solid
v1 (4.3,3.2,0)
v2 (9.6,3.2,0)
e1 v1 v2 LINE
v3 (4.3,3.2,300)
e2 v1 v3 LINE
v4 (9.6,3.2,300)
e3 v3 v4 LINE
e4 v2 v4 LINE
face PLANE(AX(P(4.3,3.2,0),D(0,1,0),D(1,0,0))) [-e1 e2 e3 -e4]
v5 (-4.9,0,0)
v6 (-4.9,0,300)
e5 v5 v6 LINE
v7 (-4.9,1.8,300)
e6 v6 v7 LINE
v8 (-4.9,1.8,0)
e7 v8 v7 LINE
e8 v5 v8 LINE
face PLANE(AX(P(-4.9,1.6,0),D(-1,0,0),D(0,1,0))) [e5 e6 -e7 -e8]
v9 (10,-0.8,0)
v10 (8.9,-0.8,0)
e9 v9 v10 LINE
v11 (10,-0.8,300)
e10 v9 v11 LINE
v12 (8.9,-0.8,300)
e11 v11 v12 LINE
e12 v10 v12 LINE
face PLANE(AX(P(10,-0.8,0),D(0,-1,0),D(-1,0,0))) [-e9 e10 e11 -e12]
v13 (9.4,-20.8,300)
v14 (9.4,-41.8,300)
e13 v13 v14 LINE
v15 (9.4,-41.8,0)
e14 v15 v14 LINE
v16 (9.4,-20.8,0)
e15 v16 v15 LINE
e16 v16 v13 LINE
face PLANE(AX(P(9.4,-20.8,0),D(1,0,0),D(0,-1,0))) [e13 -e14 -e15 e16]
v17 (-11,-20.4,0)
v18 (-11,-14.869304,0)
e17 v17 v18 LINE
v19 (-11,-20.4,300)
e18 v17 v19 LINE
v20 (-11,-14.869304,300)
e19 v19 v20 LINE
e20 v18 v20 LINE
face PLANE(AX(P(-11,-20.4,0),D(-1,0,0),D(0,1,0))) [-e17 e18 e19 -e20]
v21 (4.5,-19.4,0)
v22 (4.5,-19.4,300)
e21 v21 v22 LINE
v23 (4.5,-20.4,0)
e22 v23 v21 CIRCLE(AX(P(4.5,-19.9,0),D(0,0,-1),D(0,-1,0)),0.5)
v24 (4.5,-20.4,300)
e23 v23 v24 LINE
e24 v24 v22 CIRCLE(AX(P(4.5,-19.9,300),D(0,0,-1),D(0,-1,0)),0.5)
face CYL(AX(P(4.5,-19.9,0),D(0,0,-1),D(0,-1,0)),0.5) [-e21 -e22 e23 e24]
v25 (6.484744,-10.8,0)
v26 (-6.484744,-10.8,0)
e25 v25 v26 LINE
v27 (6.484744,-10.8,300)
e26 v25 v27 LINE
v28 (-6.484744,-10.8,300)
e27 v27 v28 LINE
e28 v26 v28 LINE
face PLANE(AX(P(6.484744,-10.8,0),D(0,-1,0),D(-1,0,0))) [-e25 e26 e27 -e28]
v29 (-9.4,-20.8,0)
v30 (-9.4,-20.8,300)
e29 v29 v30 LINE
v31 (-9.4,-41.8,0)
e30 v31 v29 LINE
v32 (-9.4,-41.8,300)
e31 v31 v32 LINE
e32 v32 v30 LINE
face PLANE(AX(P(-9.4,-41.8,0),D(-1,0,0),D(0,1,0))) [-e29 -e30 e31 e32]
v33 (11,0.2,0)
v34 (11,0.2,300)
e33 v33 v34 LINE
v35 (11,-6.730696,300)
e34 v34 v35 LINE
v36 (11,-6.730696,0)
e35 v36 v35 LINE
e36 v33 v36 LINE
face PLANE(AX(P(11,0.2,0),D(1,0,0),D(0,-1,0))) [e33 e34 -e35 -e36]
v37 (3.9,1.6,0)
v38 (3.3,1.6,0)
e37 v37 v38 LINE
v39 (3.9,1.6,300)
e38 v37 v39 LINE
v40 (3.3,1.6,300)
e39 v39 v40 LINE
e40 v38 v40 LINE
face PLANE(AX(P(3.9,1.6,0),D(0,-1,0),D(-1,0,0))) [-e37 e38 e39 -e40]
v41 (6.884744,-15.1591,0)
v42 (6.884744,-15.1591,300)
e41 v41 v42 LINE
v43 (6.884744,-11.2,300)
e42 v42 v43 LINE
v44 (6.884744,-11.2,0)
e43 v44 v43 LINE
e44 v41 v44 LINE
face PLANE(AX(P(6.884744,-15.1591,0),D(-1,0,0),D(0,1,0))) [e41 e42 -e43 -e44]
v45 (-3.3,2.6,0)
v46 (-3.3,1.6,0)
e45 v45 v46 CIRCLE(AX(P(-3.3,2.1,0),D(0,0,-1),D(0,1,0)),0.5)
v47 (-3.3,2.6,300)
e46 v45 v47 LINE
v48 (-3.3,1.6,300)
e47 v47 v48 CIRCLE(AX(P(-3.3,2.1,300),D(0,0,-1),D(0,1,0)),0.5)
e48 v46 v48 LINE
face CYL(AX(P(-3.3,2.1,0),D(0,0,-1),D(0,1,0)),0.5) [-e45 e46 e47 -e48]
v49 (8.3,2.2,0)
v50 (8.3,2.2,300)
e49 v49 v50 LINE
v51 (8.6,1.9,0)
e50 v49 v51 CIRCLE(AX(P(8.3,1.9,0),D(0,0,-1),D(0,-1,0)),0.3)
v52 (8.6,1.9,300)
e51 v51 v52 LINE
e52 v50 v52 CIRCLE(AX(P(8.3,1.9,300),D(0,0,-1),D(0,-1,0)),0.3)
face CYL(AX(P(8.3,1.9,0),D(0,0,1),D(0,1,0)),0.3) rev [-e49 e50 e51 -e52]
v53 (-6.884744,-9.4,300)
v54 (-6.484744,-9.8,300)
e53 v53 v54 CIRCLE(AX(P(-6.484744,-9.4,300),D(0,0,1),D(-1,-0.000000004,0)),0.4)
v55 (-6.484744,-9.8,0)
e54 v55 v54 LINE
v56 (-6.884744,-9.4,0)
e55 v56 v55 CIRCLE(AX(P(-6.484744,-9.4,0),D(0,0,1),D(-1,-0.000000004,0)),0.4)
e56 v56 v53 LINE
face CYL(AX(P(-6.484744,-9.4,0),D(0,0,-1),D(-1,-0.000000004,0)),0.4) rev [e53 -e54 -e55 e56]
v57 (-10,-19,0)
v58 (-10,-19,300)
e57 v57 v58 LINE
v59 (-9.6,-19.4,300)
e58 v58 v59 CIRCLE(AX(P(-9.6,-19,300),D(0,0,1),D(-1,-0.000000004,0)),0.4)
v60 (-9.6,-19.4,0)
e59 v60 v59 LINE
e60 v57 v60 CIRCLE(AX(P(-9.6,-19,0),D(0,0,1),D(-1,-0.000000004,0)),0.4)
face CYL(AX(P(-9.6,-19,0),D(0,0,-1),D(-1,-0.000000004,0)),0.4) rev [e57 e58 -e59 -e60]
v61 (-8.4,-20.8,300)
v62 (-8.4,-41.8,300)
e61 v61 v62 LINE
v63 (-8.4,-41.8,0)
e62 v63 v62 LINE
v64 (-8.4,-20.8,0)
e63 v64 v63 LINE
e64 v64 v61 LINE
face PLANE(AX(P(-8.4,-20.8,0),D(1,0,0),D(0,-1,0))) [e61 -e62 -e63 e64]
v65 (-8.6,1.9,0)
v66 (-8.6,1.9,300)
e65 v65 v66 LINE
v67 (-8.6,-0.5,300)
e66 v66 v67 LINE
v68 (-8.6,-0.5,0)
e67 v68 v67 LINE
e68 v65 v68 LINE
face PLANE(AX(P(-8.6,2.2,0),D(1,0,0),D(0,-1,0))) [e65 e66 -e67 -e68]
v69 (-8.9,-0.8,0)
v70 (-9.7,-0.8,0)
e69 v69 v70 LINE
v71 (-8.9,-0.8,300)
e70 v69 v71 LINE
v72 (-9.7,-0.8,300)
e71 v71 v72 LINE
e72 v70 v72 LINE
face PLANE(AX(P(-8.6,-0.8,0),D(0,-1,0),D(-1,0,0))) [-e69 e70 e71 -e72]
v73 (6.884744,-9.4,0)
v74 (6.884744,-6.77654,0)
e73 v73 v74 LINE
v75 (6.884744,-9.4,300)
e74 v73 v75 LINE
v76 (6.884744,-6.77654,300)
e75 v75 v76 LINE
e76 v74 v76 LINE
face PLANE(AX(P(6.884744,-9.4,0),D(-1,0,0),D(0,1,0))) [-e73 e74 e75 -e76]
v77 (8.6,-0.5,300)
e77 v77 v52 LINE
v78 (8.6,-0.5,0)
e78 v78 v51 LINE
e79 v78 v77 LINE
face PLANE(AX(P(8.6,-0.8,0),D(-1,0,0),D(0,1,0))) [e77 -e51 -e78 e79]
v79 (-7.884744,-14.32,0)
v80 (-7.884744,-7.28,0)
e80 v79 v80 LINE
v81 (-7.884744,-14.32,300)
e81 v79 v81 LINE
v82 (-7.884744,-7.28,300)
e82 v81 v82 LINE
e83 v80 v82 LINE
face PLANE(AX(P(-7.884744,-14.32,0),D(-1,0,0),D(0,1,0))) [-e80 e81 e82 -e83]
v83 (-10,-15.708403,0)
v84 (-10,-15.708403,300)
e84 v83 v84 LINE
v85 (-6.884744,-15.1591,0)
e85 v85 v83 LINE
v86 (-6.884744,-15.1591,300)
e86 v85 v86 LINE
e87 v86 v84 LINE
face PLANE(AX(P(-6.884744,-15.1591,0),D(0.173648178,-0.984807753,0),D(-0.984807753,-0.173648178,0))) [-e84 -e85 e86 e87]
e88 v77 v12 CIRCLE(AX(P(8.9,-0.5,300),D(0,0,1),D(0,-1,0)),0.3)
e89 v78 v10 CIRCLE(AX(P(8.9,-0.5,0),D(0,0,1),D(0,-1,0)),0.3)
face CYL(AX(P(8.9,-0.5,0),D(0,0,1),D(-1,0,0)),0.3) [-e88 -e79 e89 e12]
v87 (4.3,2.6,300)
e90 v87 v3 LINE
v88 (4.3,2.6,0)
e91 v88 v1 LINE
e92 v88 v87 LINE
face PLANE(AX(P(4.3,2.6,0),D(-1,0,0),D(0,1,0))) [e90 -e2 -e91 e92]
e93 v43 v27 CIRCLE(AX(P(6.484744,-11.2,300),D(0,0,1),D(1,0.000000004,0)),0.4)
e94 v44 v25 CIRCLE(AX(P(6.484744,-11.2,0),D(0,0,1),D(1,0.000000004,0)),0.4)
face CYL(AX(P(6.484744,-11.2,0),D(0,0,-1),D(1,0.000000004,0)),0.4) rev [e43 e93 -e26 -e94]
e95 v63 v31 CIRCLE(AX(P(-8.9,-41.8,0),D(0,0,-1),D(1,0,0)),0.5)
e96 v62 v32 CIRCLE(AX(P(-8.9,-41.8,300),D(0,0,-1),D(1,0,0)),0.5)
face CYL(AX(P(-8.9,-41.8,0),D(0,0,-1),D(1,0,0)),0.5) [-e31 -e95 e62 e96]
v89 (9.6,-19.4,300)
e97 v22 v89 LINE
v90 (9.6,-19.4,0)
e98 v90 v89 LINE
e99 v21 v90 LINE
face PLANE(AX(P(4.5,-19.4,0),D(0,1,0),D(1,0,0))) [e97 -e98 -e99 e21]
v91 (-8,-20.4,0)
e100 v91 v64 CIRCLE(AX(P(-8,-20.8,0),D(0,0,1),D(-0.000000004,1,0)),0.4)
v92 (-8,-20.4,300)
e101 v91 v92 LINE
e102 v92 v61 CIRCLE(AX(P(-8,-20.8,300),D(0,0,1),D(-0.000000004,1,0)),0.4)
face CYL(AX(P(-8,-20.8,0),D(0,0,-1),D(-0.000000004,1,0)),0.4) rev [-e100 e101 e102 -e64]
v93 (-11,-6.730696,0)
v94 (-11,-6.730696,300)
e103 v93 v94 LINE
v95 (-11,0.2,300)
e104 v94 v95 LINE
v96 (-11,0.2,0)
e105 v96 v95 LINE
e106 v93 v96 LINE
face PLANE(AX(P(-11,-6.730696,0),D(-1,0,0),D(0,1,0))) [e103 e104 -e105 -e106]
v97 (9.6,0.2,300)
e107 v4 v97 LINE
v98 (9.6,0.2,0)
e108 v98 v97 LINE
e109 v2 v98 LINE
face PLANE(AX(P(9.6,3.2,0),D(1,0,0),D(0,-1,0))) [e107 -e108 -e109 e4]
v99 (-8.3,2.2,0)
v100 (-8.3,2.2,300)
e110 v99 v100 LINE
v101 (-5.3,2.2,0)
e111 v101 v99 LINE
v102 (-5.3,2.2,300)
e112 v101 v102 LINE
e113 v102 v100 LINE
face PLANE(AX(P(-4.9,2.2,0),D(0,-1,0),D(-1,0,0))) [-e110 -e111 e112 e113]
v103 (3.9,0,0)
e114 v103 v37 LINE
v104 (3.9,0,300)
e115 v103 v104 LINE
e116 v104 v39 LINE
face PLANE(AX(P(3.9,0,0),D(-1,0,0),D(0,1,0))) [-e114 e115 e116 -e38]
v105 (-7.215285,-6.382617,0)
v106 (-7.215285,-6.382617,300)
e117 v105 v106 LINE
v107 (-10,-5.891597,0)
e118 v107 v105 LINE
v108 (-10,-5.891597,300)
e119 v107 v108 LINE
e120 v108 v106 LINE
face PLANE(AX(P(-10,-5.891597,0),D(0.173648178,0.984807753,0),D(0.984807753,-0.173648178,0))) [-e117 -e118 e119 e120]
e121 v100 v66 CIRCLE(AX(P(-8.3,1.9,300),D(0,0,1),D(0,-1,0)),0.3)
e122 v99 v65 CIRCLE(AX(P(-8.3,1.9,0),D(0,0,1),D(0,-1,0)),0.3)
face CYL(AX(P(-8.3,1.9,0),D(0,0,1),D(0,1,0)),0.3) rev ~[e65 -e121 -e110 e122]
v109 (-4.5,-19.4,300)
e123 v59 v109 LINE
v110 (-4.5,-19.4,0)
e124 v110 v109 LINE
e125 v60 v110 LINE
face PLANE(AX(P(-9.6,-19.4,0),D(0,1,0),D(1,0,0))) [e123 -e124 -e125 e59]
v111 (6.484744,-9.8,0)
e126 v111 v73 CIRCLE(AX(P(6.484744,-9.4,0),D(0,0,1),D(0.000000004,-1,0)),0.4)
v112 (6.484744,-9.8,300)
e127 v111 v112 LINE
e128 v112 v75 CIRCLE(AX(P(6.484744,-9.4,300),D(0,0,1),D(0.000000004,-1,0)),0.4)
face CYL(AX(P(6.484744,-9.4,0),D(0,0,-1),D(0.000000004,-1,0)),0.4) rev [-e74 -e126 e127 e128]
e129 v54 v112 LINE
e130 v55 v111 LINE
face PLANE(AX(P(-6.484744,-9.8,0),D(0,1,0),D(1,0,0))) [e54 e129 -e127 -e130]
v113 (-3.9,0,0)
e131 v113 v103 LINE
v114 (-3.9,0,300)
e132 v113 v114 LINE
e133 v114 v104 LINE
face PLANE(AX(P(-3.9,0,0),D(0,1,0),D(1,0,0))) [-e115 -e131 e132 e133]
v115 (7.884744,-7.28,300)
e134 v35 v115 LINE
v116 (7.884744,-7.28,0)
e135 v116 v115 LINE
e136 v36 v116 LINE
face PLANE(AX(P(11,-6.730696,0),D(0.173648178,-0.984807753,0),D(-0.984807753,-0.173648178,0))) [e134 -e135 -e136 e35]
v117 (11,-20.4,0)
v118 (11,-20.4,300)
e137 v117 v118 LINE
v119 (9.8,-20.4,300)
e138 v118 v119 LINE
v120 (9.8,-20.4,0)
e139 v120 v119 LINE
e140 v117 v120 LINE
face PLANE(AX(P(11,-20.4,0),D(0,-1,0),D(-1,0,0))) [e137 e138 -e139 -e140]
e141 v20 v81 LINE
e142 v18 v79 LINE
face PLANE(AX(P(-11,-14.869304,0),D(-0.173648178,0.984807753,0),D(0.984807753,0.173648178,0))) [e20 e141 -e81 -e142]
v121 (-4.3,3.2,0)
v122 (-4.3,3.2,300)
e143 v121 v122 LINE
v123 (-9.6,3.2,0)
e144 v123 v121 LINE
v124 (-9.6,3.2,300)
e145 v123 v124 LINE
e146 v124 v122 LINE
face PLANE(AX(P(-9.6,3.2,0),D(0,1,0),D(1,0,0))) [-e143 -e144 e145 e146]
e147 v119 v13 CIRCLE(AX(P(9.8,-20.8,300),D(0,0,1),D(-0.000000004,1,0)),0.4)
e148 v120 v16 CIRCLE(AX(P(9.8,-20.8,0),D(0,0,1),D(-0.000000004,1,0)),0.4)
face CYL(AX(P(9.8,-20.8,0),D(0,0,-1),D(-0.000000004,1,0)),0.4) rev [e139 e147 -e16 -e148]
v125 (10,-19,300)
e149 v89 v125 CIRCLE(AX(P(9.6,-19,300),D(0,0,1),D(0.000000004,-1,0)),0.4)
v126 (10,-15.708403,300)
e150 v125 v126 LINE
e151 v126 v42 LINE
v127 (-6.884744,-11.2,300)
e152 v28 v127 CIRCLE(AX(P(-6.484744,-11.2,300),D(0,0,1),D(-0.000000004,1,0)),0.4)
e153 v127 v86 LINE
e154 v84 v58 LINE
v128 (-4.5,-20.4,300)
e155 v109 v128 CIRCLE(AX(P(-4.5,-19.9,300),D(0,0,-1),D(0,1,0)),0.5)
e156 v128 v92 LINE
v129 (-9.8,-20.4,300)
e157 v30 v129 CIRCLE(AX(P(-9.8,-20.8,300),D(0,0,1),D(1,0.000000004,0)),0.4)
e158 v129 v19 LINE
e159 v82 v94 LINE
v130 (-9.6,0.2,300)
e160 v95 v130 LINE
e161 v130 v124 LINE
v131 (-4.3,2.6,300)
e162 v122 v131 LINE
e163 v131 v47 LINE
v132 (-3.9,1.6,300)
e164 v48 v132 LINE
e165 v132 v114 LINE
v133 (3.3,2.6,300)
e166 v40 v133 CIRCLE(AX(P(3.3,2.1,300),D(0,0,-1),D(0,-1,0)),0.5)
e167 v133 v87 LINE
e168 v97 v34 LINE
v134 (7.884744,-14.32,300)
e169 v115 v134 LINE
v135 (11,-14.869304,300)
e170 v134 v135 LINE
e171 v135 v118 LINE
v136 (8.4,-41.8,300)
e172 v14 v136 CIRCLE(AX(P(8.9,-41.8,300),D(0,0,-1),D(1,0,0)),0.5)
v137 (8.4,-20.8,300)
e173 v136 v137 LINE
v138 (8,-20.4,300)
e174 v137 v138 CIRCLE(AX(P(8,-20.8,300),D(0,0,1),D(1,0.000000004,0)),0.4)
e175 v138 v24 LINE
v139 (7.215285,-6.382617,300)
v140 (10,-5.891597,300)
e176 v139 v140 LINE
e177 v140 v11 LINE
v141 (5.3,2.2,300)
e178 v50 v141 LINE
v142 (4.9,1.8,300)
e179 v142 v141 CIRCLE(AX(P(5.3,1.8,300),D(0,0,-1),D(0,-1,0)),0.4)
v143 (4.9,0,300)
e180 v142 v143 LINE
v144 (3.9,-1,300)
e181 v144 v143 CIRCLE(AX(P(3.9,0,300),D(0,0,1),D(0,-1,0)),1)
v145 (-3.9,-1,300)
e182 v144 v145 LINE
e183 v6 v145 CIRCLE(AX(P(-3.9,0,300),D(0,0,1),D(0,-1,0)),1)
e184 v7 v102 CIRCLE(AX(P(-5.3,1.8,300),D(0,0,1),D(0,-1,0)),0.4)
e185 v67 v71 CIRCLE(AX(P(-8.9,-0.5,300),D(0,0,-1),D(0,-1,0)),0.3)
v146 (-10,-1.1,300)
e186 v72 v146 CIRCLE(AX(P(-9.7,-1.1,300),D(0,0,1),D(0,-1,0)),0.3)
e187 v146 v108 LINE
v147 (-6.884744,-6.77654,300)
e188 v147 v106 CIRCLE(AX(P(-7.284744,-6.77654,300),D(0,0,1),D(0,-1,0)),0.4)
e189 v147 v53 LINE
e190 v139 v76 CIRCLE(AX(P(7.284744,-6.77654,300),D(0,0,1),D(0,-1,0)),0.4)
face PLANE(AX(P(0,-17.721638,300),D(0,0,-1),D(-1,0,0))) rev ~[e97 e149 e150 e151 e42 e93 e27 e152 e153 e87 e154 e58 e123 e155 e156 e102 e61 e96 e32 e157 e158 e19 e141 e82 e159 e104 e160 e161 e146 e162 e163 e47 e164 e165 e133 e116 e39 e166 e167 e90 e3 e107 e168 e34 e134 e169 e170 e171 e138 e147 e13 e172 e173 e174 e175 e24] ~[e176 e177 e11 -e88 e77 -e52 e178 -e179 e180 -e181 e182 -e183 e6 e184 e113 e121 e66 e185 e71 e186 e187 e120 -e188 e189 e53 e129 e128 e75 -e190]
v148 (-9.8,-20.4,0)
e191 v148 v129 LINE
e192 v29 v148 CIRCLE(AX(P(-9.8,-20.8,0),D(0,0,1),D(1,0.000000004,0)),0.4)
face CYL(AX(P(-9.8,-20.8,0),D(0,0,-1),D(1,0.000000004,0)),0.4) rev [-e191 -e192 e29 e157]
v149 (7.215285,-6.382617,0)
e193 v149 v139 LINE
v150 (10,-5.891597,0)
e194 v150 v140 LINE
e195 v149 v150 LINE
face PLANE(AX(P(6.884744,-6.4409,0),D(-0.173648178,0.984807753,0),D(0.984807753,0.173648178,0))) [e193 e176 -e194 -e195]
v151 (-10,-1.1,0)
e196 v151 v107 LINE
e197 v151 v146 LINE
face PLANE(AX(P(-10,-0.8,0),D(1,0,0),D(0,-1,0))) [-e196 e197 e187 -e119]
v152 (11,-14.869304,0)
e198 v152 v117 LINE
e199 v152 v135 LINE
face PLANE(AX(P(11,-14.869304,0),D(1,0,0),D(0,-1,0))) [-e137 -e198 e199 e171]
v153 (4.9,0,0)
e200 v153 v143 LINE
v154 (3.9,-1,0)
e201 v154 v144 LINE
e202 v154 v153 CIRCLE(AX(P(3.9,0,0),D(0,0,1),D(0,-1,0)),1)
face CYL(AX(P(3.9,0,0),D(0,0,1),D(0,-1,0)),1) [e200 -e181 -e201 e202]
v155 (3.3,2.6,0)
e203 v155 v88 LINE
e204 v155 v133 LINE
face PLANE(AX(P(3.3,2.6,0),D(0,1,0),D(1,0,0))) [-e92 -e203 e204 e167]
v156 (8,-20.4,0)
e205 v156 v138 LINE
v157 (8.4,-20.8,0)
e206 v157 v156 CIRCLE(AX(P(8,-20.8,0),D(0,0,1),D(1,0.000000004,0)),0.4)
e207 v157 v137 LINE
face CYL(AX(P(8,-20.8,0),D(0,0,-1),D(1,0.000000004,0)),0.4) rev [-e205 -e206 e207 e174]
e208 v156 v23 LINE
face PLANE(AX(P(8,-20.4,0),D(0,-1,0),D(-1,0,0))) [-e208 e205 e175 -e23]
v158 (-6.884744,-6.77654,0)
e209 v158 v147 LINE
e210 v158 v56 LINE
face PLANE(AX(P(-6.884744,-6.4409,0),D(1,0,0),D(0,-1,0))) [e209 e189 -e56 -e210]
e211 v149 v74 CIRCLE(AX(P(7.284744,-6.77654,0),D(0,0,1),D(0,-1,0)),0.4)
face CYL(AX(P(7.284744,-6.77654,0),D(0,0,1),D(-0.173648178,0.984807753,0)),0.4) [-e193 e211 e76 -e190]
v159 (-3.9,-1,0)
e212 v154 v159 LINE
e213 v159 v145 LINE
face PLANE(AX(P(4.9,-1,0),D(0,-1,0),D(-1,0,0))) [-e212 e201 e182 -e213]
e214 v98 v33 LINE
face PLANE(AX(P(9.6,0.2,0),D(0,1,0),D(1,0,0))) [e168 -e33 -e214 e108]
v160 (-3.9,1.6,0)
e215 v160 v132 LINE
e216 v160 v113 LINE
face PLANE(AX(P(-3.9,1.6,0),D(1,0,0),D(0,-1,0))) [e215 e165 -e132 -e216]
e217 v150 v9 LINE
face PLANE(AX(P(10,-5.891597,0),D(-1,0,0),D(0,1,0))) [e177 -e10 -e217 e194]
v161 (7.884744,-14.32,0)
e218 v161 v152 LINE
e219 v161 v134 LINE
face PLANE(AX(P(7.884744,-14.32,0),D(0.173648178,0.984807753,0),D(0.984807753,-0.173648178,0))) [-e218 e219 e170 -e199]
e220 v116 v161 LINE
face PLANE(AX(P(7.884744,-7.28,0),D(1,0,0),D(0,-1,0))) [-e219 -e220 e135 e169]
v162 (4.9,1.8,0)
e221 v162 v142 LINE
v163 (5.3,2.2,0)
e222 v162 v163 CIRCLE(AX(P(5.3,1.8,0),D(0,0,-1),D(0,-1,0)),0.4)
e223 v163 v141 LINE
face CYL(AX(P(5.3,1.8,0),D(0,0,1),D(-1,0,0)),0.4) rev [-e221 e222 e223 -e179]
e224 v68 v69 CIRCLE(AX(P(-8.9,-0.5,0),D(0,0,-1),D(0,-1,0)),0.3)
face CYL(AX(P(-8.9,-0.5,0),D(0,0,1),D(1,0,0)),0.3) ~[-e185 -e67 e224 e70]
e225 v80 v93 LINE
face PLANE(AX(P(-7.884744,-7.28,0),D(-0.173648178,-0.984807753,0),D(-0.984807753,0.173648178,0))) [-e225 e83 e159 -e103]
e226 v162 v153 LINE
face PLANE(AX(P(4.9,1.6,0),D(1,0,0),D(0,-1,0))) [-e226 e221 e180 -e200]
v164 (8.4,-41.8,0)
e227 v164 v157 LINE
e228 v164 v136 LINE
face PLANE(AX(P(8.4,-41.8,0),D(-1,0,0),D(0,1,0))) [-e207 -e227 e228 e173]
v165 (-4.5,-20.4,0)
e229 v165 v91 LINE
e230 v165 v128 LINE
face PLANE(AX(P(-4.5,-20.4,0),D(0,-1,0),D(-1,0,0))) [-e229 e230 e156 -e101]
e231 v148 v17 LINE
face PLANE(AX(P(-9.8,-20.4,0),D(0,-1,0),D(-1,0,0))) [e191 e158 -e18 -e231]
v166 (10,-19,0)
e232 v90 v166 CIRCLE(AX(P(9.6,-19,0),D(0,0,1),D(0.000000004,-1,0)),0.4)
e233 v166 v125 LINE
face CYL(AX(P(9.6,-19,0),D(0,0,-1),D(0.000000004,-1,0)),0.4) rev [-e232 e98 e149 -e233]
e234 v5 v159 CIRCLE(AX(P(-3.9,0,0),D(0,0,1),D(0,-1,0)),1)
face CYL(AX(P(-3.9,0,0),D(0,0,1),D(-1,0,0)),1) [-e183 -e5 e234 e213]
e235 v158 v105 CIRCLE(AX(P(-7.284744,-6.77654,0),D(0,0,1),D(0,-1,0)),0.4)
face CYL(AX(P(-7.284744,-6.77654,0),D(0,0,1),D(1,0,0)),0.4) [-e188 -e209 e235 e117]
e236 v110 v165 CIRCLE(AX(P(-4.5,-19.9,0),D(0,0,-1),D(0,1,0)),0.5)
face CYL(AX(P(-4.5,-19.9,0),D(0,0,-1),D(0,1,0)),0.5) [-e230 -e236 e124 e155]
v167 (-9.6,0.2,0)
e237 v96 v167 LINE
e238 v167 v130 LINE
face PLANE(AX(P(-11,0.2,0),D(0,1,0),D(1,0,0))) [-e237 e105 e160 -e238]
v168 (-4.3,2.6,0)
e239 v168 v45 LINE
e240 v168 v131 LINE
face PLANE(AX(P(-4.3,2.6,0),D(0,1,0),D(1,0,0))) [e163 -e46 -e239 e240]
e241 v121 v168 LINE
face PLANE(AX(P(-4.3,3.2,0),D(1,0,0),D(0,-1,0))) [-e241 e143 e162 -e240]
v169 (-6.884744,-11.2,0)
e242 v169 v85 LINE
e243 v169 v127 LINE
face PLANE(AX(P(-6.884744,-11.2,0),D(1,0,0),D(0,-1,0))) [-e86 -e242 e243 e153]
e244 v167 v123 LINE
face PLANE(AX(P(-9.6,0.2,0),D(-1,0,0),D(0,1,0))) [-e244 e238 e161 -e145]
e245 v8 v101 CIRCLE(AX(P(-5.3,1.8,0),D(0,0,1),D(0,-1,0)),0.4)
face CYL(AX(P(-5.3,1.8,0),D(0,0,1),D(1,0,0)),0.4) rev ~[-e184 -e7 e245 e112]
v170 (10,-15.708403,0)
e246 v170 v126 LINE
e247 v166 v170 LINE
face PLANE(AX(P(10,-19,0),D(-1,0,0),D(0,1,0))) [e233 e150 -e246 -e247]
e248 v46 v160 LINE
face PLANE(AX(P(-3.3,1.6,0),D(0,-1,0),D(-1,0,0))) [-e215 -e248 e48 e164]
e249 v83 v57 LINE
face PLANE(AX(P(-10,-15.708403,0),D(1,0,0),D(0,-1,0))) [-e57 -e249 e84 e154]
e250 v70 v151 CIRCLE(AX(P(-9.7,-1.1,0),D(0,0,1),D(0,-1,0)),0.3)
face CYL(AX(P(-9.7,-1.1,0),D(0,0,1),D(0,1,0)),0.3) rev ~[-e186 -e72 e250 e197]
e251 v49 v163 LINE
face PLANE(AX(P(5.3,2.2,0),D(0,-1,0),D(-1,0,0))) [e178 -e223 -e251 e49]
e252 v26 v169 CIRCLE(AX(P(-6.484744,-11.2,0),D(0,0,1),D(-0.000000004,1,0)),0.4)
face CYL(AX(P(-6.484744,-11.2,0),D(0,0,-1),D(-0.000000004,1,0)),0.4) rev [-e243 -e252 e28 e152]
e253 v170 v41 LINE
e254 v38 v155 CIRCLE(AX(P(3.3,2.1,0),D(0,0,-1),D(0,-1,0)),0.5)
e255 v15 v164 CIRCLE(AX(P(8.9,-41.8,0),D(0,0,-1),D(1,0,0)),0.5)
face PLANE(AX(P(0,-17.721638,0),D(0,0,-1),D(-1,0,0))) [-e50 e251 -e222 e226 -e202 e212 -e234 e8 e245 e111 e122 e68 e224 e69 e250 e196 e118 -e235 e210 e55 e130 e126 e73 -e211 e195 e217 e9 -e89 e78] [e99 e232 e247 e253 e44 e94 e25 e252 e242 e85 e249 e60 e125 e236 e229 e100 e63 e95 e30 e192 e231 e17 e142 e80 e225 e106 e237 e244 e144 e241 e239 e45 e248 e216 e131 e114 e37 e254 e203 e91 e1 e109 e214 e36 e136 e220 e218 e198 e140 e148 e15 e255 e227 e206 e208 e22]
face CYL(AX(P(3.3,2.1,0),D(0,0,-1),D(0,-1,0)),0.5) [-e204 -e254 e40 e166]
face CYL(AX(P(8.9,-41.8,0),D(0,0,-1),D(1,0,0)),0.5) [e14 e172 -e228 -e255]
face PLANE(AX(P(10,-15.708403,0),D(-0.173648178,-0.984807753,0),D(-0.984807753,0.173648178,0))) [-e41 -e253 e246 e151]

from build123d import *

# Parameters (mm, degrees)
BOSS_EXTRUDE1_DEPTH = 300
FILLET1_R           = 1
FILLET2_R           = 0.3
SKETCH3_W           = 0.4
SKETCH3_H           = 0.6
CUT_EXTRUDE1_DEPTH  = 300
FILLET3_R           = 0.4


with BuildPart() as part:
    # Sketch1 → Boss-Extrude1 (new body)
    with BuildSketch(Plane.XY):
        with BuildLine():
            Line((-3.9, 0), (3.9, 0))
            Line((3.9, 0), (3.9, 1.6))
            Line((3.9, 1.6), (3.3, 1.6))
            ThreePointArc((3.3, 1.6), (2.8, 2.1), (3.3, 2.6))
            Line((3.3, 2.6), (4.3, 2.6))
            Line((4.3, 2.6), (4.3, 3.2))
            Line((4.3, 3.2), (9.6, 3.2))
            Line((9.6, 3.2), (9.6, 0.2))
            Line((9.6, 0.2), (11, 0.2))
            Line((11, 0.2), (11, -6.730696291))
            Line((11, -6.730696291), (7.88474386, -7.28))
            Line((7.88474386, -7.28), (7.88474386, -14.32))
            Line((7.88474386, -14.32), (11, -14.869303709))
            Line((11, -14.869303709), (11, -20.4))
            Line((11, -20.4), (9.8, -20.4))
            ThreePointArc((9.8, -20.4), (9.517157288, -20.517157288), (9.4, -20.8))
            Line((9.4, -20.8), (9.4, -41.8))
            ThreePointArc((9.4, -41.8), (8.9, -42.3), (8.4, -41.8))
            Line((8.4, -41.8), (8.4, -20.8))
            ThreePointArc((8.4, -20.8), (8.282842712, -20.517157288), (8, -20.4))
            Line((8, -20.4), (4.5, -20.4))
            ThreePointArc((4.5, -20.4), (4, -19.9), (4.5, -19.4))
            Line((4.5, -19.4), (8.4, -19.4))
            Line((8.4, -19.4), (9.6, -19.4))
            ThreePointArc((9.6, -19.4), (9.882842712, -19.282842712), (10, -19))
            Line((10, -19), (10, -15.70840334))
            Line((10, -15.70840334), (6.88474386, -15.159099631))
            Line((6.88474386, -15.159099631), (6.88474386, -11.2))
            ThreePointArc((6.88474386, -11.2), (6.767586572, -10.917157288), (6.48474386, -10.8))
            Line((6.48474386, -10.8), (-6.48474386, -10.8))
            ThreePointArc((-6.48474386, -10.8), (-6.767586572, -10.917157288), (-6.88474386, -11.2))
            Line((-6.88474386, -11.2), (-6.88474386, -15.159099631))
            Line((-6.88474386, -15.159099631), (-10, -15.70840334))
            Line((-10, -15.70840334), (-10, -19))
            ThreePointArc((-10, -19), (-9.882842712, -19.282842712), (-9.6, -19.4))
            Line((-9.6, -19.4), (-8.4, -19.4))
            Line((-8.4, -19.4), (-4.5, -19.4))
            ThreePointArc((-4.5, -19.4), (-4, -19.9), (-4.5, -20.4))
            Line((-4.5, -20.4), (-8, -20.4))
            ThreePointArc((-8, -20.4), (-8.282842712, -20.517157288), (-8.4, -20.8))
            Line((-8.4, -20.8), (-8.4, -41.8))
            ThreePointArc((-8.4, -41.8), (-8.9, -42.3), (-9.4, -41.8))
            Line((-9.4, -41.8), (-9.4, -20.8))
            ThreePointArc((-9.4, -20.8), (-9.517157288, -20.517157288), (-9.8, -20.4))
            Line((-9.8, -20.4), (-11, -20.4))
            Line((-11, -20.4), (-11, -14.869303709))
            Line((-11, -14.869303709), (-7.88474386, -14.32))
            Line((-7.88474386, -14.32), (-7.88474386, -7.28))
            Line((-7.88474386, -7.28), (-11, -6.730696291))
            Line((-11, -6.730696291), (-11, 0.2))
            Line((-11, 0.2), (-9.6, 0.2))
            Line((-9.6, 0.2), (-9.6, 3.2))
            Line((-9.6, 3.2), (-4.3, 3.2))
            Line((-4.3, 3.2), (-4.3, 2.6))
            Line((-4.3, 2.6), (-3.3, 2.6))
            ThreePointArc((-3.3, 2.6), (-2.8, 2.1), (-3.3, 1.6))
            Line((-3.3, 1.6), (-3.9, 1.6))
            Line((-3.9, 1.6), (-3.9, 0))
        make_face()
        with BuildLine():
            Line((-6.88474386, -6.440900369), (-6.88474386, -9.4))
            ThreePointArc((-6.88474386, -9.4), (-6.767586572, -9.682842712), (-6.48474386, -9.8))
            Line((-6.48474386, -9.8), (6.48474386, -9.8))
            ThreePointArc((6.48474386, -9.8), (6.767586572, -9.682842712), (6.88474386, -9.4))
            Line((6.88474386, -9.4), (6.88474386, -6.440900369))
            Line((6.88474386, -6.440900369), (10, -5.89159666))
            Line((10, -5.89159666), (10, -0.8))
            Line((10, -0.8), (8.6, -0.8))
            Line((8.6, -0.8), (8.6, 2.2))
            Line((8.6, 2.2), (5.3, 2.2))
            Line((5.3, 2.2), (5.3, 1.6))
            Line((5.3, 1.6), (4.9, 1.6))
            Line((4.9, 1.6), (4.9, -1))
            Line((4.9, -1), (-4.9, -1))
            Line((-4.9, -1), (-4.9, 1.6))
            Line((-4.9, 1.6), (-5.3, 1.6))
            Line((-5.3, 1.6), (-5.3, 2.2))
            Line((-5.3, 2.2), (-8.6, 2.2))
            Line((-8.6, 2.2), (-8.6, -0.8))
            Line((-8.6, -0.8), (-10, -0.8))
            Line((-10, -0.8), (-10, -5.89159666))
            Line((-10, -5.89159666), (-6.88474386, -6.440900369))
        make_face(mode=Mode.SUBTRACT)
    extrude(amount=BOSS_EXTRUDE1_DEPTH)

    # Fillet1
    fillet1_edges = [part.edges().sort_by_distance(p)[0] for p in [
        (4.9, -1, 150),
        (-4.9, -1, 150),
    ]]
    fillet(fillet1_edges, radius=FILLET1_R)

    # Fillet2
    fillet2_edges = [part.edges().sort_by_distance(p)[0] for p in [
        (8.6, -0.8, 150),
        (8.6, 2.2, 150),
        (-8.6, 2.2, 150),
        (-8.6, -0.8, 150),
        (-10, -0.8, 150),
    ]]
    fillet(fillet2_edges, radius=FILLET2_R)

    # Sketch3 → Cut-Extrude1 (cut)
    with BuildSketch(Plane(origin=(0, 0, 0), x_dir=(-1, 0, 0), z_dir=(0, 0, -1))):
        with Locations((5.1, 1.9)):
            Rectangle(SKETCH3_W, SKETCH3_H)
        with Locations((-5.1, 1.9)):
            Rectangle(SKETCH3_W, SKETCH3_H)
    extrude(amount=-CUT_EXTRUDE1_DEPTH, mode=Mode.SUBTRACT)

    # Fillet3
    fillet3_edges = [part.edges().sort_by_distance(p)[0] for p in [
        (-6.88474386, -6.440900369, 150),
        (6.88474386, -6.440900369, 150),
        (-4.9, 2.2, 150),
        (4.9, 2.2, 150),
    ]]
    fillet(fillet3_edges, radius=FILLET3_R)


solid = part.part
